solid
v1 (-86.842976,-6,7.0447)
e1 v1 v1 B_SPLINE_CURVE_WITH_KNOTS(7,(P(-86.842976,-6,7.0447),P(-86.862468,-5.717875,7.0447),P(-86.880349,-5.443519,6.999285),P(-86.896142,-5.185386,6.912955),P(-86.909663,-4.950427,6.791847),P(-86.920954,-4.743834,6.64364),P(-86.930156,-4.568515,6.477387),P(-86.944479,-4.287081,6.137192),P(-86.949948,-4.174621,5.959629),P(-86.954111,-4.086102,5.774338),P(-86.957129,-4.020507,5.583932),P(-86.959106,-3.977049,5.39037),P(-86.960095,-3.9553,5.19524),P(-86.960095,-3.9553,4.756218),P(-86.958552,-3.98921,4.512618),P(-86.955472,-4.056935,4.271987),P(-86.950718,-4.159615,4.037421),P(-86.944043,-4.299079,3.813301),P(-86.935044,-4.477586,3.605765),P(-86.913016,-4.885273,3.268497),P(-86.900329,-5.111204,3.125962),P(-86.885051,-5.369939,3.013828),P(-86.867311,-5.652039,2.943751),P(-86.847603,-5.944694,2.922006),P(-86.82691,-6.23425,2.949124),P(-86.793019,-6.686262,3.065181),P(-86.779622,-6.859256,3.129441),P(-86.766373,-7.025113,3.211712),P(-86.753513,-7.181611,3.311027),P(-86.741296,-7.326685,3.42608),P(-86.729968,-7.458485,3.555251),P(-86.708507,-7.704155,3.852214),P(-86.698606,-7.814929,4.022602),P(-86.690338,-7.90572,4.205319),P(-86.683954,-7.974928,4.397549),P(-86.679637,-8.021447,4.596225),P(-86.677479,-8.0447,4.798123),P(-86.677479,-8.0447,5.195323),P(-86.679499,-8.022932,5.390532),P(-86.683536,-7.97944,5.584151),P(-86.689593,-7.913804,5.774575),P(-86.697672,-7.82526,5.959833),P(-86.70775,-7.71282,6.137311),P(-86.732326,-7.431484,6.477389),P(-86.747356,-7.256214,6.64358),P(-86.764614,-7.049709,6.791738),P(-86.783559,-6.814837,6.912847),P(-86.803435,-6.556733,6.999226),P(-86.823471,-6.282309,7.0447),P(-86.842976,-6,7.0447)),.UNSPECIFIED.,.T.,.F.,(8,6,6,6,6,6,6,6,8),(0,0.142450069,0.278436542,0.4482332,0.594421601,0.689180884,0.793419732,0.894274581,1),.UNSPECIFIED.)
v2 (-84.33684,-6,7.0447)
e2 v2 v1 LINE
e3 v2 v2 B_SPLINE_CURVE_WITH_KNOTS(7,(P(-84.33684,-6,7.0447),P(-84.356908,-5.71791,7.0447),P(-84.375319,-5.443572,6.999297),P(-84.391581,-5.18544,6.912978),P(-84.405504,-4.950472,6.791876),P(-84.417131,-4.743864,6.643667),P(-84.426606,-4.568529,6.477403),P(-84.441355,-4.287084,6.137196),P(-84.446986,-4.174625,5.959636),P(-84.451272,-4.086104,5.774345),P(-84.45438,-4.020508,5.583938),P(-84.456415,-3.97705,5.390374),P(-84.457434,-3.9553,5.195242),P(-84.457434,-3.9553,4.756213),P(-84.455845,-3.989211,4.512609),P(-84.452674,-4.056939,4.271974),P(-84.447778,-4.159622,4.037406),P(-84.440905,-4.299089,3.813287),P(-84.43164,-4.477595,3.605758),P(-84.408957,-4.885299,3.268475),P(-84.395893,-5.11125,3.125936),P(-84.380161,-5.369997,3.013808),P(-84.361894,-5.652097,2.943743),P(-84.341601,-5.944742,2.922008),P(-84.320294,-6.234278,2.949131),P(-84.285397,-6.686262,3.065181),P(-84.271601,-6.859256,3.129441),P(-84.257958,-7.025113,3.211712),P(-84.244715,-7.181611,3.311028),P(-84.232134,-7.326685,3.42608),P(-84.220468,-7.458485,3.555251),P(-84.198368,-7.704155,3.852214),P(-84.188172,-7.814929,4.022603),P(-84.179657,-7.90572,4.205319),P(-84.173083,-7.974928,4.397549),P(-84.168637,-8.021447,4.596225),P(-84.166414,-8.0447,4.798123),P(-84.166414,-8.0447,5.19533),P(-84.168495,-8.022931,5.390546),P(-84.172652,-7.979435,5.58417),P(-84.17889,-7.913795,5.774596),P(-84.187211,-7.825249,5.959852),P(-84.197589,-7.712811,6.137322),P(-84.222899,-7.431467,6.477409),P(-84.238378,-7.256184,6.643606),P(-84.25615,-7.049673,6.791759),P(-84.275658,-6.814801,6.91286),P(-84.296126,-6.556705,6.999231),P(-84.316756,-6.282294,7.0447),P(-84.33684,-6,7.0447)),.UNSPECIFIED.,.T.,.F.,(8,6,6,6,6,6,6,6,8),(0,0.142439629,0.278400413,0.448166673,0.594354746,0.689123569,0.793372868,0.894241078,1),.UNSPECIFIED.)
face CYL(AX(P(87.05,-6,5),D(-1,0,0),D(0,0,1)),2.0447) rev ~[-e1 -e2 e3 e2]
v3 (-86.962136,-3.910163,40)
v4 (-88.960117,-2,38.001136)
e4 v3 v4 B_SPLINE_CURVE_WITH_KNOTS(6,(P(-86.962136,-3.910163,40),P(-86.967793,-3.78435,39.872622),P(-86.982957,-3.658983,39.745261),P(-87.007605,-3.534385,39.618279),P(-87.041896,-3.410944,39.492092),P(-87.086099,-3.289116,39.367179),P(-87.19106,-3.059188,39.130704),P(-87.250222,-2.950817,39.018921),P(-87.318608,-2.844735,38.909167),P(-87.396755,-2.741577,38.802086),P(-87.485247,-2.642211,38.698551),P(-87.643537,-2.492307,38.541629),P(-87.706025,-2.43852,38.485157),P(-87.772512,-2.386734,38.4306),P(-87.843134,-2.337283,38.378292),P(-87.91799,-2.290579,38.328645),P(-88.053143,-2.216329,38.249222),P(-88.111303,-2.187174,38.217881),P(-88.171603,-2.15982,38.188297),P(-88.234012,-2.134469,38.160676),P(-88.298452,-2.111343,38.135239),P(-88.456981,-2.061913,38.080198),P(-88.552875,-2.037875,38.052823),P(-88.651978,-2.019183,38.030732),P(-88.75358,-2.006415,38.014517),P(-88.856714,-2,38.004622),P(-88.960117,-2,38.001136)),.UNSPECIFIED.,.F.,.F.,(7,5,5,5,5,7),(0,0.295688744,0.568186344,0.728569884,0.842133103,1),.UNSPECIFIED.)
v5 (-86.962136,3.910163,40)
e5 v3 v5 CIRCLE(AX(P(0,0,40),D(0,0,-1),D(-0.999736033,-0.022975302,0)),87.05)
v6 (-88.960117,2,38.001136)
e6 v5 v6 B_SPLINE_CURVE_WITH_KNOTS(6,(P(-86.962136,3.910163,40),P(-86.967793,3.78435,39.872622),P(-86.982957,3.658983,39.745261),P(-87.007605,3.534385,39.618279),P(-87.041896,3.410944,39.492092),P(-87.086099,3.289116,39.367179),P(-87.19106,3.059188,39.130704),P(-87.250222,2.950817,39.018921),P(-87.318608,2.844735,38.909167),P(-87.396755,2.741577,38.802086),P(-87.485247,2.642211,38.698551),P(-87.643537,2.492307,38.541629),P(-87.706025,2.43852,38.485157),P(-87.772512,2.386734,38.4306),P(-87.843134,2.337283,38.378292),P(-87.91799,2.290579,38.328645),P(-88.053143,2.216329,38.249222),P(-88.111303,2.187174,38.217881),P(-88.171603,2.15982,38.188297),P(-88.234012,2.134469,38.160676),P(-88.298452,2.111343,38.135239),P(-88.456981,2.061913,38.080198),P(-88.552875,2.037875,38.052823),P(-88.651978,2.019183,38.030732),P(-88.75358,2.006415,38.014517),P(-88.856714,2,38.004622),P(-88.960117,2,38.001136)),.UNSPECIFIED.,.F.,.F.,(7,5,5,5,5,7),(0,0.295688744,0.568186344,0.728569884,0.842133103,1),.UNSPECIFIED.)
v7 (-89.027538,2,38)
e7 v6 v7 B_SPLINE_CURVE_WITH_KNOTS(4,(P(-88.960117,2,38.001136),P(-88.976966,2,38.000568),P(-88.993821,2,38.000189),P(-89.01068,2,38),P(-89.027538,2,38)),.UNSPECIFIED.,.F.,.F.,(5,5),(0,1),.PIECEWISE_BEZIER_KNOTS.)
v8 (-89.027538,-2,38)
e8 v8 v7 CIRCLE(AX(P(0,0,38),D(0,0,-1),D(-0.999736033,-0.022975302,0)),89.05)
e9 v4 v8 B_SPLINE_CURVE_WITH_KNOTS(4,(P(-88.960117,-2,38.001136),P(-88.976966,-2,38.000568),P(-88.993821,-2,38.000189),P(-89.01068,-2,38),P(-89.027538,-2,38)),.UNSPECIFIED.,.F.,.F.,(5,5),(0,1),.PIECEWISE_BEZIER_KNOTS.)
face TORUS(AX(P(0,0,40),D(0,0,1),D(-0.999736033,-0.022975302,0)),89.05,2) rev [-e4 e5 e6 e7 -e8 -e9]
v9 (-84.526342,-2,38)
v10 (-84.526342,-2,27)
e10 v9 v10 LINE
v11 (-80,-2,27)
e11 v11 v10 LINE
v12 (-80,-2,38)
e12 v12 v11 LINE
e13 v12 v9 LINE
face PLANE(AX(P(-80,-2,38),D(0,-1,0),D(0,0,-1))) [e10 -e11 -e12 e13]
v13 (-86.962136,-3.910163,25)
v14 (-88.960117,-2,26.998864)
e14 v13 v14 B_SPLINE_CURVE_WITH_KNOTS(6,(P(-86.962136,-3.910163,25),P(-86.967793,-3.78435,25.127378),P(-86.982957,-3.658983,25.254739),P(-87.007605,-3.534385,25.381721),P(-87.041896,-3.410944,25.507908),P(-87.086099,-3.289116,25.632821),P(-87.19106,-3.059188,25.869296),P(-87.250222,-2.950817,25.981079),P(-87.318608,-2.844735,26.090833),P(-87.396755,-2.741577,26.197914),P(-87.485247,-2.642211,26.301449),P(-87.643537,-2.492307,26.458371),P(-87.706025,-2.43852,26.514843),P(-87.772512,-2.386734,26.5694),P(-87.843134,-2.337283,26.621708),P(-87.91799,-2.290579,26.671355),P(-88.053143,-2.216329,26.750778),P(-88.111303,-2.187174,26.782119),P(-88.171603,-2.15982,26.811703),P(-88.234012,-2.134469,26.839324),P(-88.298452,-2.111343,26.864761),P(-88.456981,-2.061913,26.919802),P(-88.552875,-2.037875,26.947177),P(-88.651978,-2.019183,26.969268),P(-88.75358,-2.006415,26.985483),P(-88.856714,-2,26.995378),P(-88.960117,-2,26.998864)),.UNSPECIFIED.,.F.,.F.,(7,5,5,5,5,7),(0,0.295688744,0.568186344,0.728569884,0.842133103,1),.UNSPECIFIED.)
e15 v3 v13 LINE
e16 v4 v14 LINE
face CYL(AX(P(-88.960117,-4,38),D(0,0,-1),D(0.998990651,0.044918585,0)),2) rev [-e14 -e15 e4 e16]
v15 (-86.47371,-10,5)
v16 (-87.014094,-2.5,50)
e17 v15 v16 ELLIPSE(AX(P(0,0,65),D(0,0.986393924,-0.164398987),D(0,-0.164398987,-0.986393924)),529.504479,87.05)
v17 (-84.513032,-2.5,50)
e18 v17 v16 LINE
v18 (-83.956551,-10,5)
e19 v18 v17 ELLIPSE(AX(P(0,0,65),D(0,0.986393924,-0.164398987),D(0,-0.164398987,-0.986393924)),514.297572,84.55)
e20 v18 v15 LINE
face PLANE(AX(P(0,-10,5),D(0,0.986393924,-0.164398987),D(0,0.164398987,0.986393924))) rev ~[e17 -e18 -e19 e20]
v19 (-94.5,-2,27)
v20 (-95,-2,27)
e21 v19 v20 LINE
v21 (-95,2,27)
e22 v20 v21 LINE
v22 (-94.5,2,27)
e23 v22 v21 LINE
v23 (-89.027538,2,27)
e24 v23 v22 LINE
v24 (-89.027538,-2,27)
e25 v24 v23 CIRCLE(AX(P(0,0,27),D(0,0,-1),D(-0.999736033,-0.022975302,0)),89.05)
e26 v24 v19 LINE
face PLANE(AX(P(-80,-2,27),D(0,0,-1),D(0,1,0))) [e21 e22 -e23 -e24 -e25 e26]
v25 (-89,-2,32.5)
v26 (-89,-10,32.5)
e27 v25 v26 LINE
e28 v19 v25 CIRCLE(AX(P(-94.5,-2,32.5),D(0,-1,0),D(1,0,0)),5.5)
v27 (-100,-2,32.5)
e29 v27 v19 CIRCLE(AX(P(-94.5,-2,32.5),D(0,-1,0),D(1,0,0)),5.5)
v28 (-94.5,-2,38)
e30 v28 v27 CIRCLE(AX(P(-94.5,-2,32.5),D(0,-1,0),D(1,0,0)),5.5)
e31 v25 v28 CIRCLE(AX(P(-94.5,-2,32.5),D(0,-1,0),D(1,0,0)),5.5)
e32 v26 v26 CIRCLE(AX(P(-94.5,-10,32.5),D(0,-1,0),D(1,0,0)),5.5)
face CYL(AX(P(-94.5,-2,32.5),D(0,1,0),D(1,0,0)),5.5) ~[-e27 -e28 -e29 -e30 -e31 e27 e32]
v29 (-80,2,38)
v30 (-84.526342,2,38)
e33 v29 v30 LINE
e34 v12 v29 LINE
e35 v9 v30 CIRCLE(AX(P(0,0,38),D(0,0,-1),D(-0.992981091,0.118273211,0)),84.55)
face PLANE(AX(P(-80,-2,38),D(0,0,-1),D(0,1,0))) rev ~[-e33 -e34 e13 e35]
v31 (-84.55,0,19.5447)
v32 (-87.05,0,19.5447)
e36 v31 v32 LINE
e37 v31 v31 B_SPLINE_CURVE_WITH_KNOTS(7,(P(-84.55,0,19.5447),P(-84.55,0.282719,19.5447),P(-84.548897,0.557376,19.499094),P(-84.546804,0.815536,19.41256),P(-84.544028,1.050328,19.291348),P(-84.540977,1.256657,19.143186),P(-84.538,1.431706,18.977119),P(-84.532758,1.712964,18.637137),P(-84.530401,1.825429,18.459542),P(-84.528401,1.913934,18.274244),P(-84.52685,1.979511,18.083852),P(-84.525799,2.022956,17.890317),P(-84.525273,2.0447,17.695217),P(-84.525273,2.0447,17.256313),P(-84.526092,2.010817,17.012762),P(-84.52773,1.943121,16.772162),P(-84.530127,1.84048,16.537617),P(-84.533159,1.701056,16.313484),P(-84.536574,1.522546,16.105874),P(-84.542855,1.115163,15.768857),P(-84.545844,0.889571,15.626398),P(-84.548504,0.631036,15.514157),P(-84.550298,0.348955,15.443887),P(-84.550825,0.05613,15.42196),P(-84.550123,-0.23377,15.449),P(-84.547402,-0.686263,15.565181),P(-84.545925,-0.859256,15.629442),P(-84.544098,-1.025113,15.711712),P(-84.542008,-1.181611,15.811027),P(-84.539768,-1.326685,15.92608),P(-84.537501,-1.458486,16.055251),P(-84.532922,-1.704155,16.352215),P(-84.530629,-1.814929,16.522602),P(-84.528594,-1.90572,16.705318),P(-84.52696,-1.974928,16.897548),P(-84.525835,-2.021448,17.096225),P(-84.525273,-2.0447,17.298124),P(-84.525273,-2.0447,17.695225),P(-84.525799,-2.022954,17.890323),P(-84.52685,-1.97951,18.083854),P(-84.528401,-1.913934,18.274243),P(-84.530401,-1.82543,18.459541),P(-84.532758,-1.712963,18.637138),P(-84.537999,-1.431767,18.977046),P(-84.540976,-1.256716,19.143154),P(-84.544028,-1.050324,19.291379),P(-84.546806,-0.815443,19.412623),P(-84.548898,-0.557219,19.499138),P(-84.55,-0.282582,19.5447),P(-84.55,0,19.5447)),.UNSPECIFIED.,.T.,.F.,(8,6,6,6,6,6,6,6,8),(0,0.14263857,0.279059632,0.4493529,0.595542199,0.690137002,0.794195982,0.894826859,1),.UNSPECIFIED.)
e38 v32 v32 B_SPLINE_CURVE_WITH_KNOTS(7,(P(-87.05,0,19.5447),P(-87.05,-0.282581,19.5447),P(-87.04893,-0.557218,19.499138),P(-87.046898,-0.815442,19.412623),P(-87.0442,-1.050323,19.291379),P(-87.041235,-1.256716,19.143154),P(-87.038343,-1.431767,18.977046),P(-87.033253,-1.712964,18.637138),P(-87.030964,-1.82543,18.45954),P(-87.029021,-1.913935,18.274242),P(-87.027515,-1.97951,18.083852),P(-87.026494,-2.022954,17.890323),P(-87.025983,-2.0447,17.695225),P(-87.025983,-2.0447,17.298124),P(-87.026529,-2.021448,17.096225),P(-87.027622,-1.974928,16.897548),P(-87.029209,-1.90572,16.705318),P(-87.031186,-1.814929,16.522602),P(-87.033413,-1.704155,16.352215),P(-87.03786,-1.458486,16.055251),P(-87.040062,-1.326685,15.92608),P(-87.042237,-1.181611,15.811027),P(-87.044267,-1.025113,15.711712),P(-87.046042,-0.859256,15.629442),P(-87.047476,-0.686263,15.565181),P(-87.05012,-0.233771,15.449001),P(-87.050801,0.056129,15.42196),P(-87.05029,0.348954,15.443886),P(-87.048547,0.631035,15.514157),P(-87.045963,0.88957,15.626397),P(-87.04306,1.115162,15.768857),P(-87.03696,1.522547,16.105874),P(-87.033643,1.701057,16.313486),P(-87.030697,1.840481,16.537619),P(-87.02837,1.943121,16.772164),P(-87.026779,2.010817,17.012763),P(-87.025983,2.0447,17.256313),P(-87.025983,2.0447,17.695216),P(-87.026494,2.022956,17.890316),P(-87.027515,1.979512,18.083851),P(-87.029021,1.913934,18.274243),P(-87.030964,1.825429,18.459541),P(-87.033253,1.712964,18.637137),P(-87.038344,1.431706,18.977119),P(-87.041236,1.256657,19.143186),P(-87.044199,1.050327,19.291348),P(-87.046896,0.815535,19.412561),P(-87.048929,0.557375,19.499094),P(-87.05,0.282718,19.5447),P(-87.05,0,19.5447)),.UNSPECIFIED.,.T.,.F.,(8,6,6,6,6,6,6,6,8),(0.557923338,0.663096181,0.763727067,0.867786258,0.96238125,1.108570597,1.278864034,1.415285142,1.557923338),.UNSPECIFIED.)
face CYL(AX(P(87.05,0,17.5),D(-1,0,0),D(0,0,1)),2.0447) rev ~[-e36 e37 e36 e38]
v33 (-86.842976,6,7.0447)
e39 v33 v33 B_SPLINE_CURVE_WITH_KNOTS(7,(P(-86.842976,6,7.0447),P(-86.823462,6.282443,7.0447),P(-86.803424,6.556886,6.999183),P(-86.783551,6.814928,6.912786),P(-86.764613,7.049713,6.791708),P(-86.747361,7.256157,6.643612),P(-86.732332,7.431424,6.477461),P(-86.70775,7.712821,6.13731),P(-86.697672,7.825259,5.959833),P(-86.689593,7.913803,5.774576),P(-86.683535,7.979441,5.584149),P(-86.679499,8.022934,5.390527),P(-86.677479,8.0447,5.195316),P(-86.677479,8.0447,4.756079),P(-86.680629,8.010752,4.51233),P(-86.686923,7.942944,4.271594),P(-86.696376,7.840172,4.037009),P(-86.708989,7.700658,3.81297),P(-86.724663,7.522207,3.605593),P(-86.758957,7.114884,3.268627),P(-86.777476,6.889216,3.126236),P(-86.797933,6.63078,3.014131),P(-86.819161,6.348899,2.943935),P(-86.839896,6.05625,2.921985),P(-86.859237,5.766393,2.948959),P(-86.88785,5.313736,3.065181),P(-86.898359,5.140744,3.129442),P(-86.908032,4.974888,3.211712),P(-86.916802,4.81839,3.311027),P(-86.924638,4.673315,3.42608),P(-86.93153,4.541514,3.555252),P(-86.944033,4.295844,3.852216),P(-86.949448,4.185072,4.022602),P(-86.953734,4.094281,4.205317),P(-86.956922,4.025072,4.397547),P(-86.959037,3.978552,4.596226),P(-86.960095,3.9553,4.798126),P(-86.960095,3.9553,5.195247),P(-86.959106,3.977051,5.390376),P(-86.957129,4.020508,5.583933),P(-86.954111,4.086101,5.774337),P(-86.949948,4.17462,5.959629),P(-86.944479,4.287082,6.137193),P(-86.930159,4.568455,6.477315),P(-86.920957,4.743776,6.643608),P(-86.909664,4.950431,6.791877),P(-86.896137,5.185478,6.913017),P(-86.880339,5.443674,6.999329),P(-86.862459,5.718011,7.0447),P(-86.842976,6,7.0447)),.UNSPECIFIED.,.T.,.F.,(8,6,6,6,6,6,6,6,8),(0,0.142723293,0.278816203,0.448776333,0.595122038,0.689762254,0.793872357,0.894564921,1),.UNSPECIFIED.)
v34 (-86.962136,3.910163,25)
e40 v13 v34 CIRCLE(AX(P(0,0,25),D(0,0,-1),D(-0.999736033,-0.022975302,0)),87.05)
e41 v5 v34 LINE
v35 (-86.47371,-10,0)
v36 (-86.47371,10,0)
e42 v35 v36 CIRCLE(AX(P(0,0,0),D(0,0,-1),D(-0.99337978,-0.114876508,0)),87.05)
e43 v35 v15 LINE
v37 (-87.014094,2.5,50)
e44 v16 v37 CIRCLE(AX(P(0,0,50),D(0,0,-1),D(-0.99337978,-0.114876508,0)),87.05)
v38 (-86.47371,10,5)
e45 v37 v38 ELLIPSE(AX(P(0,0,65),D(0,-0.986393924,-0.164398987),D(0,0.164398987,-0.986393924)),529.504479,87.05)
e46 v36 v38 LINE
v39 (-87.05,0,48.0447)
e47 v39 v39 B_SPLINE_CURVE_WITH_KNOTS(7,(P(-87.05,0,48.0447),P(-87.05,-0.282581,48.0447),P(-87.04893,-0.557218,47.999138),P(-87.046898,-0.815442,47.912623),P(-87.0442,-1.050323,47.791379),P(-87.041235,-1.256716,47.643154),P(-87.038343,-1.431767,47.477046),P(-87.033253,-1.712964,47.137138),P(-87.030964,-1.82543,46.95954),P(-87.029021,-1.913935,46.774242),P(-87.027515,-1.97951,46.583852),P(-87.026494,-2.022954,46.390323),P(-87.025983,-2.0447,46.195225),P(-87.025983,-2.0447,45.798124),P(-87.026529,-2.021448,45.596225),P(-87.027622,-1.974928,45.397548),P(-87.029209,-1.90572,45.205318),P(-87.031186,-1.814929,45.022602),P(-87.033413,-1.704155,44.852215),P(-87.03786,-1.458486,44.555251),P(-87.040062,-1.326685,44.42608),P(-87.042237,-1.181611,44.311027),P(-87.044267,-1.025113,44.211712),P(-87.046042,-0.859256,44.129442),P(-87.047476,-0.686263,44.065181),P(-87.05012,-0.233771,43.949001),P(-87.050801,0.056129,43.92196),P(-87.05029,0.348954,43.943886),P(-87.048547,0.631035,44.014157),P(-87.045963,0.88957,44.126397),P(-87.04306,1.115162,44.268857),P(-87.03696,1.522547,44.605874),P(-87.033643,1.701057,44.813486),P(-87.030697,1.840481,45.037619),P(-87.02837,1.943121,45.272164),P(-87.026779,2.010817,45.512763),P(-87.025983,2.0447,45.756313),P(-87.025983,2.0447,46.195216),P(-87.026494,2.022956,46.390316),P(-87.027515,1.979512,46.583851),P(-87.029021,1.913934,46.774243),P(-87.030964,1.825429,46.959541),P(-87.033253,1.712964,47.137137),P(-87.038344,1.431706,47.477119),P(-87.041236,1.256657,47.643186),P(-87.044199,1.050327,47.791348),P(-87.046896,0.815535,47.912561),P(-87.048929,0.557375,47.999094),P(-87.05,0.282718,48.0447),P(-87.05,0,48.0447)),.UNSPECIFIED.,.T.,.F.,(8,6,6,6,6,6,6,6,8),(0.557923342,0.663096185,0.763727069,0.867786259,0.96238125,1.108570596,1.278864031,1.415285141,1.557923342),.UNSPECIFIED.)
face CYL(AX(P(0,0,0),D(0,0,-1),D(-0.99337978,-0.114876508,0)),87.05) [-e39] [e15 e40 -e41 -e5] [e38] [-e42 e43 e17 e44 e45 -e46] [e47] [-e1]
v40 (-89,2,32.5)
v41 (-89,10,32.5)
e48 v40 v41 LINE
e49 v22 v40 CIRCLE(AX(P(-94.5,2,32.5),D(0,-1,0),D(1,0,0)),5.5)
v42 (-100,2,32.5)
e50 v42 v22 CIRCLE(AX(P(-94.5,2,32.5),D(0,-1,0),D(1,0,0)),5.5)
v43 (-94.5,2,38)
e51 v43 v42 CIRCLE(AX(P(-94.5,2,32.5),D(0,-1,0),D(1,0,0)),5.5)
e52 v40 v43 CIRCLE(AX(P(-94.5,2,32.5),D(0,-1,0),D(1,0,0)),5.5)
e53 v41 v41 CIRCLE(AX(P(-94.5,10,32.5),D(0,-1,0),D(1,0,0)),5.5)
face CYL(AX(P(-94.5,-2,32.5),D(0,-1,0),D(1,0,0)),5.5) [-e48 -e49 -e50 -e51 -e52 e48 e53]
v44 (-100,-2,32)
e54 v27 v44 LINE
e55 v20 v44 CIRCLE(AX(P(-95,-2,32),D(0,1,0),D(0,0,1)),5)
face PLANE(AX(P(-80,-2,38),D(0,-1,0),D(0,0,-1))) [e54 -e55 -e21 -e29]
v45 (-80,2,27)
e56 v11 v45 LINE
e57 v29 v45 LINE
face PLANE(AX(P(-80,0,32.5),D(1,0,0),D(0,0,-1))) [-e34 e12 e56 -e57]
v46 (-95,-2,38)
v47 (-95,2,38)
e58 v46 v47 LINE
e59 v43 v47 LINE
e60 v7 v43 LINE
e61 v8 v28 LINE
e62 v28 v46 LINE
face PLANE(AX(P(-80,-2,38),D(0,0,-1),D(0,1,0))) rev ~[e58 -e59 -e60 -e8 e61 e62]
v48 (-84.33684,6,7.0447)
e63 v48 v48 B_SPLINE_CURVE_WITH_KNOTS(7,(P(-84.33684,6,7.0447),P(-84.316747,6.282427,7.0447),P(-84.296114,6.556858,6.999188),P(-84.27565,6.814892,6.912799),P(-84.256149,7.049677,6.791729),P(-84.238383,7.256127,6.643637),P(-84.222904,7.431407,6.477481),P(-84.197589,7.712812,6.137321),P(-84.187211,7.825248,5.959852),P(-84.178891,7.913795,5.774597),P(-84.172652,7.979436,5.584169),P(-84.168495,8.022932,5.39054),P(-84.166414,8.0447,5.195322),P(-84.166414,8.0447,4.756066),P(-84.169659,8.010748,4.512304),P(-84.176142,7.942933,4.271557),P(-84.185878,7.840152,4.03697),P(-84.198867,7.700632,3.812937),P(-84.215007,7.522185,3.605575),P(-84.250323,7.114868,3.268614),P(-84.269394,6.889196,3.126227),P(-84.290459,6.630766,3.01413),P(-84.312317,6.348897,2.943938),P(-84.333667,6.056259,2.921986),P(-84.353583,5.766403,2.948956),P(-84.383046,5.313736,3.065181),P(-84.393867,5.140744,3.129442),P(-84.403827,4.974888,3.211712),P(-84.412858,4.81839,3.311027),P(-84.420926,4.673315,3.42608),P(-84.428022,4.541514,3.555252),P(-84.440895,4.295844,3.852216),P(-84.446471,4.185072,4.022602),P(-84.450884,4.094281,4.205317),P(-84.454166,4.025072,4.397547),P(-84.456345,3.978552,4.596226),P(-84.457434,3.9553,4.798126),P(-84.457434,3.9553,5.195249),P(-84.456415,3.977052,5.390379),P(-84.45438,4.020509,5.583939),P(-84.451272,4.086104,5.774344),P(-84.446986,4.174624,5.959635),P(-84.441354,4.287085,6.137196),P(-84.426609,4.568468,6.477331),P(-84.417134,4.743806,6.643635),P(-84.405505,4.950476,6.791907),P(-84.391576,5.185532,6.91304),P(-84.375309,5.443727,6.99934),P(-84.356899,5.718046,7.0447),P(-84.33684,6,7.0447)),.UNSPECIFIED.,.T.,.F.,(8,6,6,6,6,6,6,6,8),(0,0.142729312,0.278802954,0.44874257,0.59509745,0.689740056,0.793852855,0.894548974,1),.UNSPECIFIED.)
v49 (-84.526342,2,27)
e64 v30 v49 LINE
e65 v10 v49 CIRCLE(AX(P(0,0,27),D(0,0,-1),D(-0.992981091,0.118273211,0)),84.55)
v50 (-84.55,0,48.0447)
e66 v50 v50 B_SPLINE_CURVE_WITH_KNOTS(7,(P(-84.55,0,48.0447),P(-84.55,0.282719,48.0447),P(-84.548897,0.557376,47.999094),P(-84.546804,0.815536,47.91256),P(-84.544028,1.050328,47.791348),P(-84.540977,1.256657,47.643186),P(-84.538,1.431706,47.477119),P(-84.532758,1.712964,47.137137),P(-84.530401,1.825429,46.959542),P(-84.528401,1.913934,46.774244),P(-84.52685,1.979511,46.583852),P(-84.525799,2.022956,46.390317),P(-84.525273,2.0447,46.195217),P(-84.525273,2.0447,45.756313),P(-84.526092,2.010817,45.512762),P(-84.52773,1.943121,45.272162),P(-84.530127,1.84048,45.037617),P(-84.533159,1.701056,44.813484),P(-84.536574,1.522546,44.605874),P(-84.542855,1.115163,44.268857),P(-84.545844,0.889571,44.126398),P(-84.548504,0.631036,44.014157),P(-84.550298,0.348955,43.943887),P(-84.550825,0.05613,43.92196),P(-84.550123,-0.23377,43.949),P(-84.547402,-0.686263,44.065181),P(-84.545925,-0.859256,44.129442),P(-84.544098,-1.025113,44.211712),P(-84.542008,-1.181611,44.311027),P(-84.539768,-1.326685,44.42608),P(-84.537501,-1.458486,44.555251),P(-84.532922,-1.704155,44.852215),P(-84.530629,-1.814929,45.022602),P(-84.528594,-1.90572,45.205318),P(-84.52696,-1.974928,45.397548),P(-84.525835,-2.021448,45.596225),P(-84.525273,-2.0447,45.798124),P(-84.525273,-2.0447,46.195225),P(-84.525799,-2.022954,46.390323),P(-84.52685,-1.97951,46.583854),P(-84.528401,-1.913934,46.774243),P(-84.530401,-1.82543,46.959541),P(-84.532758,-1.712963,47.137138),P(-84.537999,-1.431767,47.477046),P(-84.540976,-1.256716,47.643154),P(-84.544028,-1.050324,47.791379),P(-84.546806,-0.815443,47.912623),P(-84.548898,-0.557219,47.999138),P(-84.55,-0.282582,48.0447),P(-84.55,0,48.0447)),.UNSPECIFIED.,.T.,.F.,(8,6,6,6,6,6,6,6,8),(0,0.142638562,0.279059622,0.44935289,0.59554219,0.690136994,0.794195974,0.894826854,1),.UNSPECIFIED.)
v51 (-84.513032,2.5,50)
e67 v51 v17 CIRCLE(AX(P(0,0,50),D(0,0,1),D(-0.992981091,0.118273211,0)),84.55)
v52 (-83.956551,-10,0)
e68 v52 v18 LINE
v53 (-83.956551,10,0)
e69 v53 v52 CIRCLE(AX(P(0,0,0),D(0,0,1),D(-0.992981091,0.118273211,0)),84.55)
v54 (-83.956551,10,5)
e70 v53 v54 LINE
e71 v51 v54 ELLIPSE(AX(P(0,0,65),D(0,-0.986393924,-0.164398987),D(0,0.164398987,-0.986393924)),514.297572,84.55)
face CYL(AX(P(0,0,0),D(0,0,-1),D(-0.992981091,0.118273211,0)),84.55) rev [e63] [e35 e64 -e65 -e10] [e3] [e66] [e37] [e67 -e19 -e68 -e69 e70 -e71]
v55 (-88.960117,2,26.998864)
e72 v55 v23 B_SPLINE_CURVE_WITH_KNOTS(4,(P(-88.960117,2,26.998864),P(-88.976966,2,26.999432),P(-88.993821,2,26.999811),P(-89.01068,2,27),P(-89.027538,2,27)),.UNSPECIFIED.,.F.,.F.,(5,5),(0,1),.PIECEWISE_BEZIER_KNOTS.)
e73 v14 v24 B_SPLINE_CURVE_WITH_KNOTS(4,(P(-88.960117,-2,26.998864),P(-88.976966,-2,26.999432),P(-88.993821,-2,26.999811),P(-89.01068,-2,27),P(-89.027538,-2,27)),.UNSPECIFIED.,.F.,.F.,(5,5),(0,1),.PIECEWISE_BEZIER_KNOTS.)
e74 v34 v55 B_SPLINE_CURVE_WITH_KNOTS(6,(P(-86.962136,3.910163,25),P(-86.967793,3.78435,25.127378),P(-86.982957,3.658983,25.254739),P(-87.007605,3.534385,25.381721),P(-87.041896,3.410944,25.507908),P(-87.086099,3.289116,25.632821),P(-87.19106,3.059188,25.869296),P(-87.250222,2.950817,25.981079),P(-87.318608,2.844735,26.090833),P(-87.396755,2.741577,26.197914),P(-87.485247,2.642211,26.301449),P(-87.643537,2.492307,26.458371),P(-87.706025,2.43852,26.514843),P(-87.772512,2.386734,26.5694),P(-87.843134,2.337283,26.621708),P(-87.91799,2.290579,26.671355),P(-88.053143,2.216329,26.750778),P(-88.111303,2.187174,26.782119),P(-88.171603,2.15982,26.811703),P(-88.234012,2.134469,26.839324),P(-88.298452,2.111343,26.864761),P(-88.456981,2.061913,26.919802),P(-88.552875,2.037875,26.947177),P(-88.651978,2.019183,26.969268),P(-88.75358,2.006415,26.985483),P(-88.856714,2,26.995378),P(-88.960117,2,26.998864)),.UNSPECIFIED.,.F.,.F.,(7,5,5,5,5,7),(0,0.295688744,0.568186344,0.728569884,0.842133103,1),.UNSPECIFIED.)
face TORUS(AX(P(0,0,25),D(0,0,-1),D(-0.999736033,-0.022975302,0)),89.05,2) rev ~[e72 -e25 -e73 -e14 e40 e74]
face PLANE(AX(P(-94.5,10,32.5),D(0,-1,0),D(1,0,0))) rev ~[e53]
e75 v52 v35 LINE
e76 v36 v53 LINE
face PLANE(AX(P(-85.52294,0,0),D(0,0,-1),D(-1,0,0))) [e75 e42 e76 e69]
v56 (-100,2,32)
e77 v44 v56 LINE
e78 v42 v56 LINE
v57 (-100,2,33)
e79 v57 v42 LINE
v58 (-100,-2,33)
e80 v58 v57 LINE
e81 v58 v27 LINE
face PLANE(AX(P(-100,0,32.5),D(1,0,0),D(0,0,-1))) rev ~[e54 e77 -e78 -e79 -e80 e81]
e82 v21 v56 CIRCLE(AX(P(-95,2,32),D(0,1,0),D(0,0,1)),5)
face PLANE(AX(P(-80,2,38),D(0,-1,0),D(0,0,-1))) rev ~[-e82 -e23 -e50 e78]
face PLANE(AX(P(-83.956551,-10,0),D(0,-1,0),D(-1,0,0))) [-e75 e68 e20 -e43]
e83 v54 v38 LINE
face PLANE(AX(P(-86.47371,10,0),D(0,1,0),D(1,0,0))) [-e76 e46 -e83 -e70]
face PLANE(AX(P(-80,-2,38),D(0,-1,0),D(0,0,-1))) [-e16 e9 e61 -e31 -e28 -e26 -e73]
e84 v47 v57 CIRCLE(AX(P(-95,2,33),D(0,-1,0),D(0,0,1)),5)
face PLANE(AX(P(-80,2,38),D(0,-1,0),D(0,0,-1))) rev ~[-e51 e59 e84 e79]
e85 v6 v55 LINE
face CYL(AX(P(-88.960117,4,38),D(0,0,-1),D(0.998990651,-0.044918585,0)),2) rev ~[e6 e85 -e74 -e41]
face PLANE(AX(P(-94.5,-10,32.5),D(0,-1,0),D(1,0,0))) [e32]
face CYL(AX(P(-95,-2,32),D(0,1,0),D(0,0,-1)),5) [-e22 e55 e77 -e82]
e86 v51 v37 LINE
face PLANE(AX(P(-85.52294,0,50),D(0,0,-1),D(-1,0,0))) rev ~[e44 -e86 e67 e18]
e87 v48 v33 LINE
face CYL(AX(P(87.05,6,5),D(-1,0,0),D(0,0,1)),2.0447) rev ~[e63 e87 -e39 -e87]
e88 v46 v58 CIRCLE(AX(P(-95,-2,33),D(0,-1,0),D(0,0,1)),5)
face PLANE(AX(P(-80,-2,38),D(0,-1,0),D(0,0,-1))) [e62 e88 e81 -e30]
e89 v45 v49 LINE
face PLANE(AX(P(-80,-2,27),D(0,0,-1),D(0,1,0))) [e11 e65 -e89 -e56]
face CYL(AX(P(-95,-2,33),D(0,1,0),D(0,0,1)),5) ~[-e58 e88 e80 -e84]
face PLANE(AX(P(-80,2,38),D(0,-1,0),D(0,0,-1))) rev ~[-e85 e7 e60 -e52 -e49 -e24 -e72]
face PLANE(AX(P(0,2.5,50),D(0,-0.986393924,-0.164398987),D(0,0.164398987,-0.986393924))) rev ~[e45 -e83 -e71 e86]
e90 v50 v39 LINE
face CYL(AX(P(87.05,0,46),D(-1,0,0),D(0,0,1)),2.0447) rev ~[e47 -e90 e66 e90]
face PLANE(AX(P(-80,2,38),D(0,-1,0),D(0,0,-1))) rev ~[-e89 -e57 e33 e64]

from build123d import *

# Parameters (mm, degrees)
BOSS_EXTRUDE1_DEPTH             = 50
SKETCH2_W                       = 109.146932236
SKETCH2_H                       = 60.735636093
CUT_EXTRUDE1_DEPTH              = 88.05
F_20_0_161_DIAMETER_HOLE1_D     = 4.0894
F_20_0_161_DIAMETER_HOLE1_DEPTH = 87.05
SKETCH7_W                       = 11
SKETCH7_H                       = 4
BOSS_EXTRUDE2_DEPTH             = 20
FILLET1_R                       = 2
SKETCH8_R                       = 5.5
BOSS_EXTRUDE3_DEPTH             = 8
BOSS_EXTRUDE3_DEPTH_BACK        = 12
FILLET2_R                       = 5


with BuildPart() as part:
    # Sketch1 → Boss-Extrude1 (new body)
    with BuildSketch(Plane.XY):
        with BuildLine():
            Line((-86.473709878, 10), (-83.956551263, 10))
            ThreePointArc((-83.956551263, 10), (-84.55, 0), (-83.956551263, -10))
            Line((-83.956551263, -10), (-86.473709878, -10))
            ThreePointArc((-86.473709878, -10), (-87.05, 0), (-86.473709878, 10))
        make_face()
    extrude(amount=BOSS_EXTRUDE1_DEPTH)

    # Sketch2 → Cut-Extrude1 (cut, through all)
    with BuildSketch(Plane(origin=(0, 0, 0), x_dir=(0, 0, -1), z_dir=(1, 0, 0))):
        with Locations((-34.220207601, -2.682367057)):
            Rectangle(SKETCH2_W, SKETCH2_H)
        Polygon((0, 10), (0, -10), (-5, -10), (-50, -2.5), (-50, 2.5), (-5, 10), align=None, mode=Mode.SUBTRACT)
    extrude(amount=-CUT_EXTRUDE1_DEPTH, mode=Mode.SUBTRACT)

    # #20 (0.161) Diameter Hole1
    with Locations(Plane(origin=(0, 0, 0), x_dir=(0, 0, -1), z_dir=(1, 0, 0))):
        with Locations((-46, 0), (-5, 6), (-5, -6), (-17.5, 0)):
            Hole(F_20_0_161_DIAMETER_HOLE1_D / 2, depth=F_20_0_161_DIAMETER_HOLE1_DEPTH)

    # Sketch7 → Boss-Extrude2 (add)
    with BuildSketch(Plane(origin=(-80, 0, -87.99983), x_dir=(0, 0, -1), z_dir=(1, 0, 0))):
        with Locations((-120.49983, 0)):
            Rectangle(SKETCH7_W, SKETCH7_H)
    extrude(amount=-BOSS_EXTRUDE2_DEPTH)

    # Fillet1
    fillet1_edges = [part.edges().sort_by_distance(p)[0] for p in [
        (-87.027021666, -2, 32.5),
        (-87.05, 0, 27),
        (-87.027021666, 2, 32.5),
        (-87.05, 0, 38),
    ]]
    fillet(fillet1_edges, radius=FILLET1_R)

    # Sketch8 → Boss-Extrude3 (add, two sides)
    with BuildSketch(Plane.XZ.offset(2)) as boss_extrude3_sk:
        with Locations((-94.5, 32.5)):
            Circle(SKETCH8_R)
    extrude(amount=BOSS_EXTRUDE3_DEPTH)
    extrude(boss_extrude3_sk.sketch, amount=-BOSS_EXTRUDE3_DEPTH_BACK)

    # Fillet2
    fillet2_edges = [part.edges().sort_by_distance(p)[0] for p in [
        (-100, 0, 38),
        (-100, 0, 27),
    ]]
    fillet(fillet2_edges, radius=FILLET2_R)


solid = part.part
